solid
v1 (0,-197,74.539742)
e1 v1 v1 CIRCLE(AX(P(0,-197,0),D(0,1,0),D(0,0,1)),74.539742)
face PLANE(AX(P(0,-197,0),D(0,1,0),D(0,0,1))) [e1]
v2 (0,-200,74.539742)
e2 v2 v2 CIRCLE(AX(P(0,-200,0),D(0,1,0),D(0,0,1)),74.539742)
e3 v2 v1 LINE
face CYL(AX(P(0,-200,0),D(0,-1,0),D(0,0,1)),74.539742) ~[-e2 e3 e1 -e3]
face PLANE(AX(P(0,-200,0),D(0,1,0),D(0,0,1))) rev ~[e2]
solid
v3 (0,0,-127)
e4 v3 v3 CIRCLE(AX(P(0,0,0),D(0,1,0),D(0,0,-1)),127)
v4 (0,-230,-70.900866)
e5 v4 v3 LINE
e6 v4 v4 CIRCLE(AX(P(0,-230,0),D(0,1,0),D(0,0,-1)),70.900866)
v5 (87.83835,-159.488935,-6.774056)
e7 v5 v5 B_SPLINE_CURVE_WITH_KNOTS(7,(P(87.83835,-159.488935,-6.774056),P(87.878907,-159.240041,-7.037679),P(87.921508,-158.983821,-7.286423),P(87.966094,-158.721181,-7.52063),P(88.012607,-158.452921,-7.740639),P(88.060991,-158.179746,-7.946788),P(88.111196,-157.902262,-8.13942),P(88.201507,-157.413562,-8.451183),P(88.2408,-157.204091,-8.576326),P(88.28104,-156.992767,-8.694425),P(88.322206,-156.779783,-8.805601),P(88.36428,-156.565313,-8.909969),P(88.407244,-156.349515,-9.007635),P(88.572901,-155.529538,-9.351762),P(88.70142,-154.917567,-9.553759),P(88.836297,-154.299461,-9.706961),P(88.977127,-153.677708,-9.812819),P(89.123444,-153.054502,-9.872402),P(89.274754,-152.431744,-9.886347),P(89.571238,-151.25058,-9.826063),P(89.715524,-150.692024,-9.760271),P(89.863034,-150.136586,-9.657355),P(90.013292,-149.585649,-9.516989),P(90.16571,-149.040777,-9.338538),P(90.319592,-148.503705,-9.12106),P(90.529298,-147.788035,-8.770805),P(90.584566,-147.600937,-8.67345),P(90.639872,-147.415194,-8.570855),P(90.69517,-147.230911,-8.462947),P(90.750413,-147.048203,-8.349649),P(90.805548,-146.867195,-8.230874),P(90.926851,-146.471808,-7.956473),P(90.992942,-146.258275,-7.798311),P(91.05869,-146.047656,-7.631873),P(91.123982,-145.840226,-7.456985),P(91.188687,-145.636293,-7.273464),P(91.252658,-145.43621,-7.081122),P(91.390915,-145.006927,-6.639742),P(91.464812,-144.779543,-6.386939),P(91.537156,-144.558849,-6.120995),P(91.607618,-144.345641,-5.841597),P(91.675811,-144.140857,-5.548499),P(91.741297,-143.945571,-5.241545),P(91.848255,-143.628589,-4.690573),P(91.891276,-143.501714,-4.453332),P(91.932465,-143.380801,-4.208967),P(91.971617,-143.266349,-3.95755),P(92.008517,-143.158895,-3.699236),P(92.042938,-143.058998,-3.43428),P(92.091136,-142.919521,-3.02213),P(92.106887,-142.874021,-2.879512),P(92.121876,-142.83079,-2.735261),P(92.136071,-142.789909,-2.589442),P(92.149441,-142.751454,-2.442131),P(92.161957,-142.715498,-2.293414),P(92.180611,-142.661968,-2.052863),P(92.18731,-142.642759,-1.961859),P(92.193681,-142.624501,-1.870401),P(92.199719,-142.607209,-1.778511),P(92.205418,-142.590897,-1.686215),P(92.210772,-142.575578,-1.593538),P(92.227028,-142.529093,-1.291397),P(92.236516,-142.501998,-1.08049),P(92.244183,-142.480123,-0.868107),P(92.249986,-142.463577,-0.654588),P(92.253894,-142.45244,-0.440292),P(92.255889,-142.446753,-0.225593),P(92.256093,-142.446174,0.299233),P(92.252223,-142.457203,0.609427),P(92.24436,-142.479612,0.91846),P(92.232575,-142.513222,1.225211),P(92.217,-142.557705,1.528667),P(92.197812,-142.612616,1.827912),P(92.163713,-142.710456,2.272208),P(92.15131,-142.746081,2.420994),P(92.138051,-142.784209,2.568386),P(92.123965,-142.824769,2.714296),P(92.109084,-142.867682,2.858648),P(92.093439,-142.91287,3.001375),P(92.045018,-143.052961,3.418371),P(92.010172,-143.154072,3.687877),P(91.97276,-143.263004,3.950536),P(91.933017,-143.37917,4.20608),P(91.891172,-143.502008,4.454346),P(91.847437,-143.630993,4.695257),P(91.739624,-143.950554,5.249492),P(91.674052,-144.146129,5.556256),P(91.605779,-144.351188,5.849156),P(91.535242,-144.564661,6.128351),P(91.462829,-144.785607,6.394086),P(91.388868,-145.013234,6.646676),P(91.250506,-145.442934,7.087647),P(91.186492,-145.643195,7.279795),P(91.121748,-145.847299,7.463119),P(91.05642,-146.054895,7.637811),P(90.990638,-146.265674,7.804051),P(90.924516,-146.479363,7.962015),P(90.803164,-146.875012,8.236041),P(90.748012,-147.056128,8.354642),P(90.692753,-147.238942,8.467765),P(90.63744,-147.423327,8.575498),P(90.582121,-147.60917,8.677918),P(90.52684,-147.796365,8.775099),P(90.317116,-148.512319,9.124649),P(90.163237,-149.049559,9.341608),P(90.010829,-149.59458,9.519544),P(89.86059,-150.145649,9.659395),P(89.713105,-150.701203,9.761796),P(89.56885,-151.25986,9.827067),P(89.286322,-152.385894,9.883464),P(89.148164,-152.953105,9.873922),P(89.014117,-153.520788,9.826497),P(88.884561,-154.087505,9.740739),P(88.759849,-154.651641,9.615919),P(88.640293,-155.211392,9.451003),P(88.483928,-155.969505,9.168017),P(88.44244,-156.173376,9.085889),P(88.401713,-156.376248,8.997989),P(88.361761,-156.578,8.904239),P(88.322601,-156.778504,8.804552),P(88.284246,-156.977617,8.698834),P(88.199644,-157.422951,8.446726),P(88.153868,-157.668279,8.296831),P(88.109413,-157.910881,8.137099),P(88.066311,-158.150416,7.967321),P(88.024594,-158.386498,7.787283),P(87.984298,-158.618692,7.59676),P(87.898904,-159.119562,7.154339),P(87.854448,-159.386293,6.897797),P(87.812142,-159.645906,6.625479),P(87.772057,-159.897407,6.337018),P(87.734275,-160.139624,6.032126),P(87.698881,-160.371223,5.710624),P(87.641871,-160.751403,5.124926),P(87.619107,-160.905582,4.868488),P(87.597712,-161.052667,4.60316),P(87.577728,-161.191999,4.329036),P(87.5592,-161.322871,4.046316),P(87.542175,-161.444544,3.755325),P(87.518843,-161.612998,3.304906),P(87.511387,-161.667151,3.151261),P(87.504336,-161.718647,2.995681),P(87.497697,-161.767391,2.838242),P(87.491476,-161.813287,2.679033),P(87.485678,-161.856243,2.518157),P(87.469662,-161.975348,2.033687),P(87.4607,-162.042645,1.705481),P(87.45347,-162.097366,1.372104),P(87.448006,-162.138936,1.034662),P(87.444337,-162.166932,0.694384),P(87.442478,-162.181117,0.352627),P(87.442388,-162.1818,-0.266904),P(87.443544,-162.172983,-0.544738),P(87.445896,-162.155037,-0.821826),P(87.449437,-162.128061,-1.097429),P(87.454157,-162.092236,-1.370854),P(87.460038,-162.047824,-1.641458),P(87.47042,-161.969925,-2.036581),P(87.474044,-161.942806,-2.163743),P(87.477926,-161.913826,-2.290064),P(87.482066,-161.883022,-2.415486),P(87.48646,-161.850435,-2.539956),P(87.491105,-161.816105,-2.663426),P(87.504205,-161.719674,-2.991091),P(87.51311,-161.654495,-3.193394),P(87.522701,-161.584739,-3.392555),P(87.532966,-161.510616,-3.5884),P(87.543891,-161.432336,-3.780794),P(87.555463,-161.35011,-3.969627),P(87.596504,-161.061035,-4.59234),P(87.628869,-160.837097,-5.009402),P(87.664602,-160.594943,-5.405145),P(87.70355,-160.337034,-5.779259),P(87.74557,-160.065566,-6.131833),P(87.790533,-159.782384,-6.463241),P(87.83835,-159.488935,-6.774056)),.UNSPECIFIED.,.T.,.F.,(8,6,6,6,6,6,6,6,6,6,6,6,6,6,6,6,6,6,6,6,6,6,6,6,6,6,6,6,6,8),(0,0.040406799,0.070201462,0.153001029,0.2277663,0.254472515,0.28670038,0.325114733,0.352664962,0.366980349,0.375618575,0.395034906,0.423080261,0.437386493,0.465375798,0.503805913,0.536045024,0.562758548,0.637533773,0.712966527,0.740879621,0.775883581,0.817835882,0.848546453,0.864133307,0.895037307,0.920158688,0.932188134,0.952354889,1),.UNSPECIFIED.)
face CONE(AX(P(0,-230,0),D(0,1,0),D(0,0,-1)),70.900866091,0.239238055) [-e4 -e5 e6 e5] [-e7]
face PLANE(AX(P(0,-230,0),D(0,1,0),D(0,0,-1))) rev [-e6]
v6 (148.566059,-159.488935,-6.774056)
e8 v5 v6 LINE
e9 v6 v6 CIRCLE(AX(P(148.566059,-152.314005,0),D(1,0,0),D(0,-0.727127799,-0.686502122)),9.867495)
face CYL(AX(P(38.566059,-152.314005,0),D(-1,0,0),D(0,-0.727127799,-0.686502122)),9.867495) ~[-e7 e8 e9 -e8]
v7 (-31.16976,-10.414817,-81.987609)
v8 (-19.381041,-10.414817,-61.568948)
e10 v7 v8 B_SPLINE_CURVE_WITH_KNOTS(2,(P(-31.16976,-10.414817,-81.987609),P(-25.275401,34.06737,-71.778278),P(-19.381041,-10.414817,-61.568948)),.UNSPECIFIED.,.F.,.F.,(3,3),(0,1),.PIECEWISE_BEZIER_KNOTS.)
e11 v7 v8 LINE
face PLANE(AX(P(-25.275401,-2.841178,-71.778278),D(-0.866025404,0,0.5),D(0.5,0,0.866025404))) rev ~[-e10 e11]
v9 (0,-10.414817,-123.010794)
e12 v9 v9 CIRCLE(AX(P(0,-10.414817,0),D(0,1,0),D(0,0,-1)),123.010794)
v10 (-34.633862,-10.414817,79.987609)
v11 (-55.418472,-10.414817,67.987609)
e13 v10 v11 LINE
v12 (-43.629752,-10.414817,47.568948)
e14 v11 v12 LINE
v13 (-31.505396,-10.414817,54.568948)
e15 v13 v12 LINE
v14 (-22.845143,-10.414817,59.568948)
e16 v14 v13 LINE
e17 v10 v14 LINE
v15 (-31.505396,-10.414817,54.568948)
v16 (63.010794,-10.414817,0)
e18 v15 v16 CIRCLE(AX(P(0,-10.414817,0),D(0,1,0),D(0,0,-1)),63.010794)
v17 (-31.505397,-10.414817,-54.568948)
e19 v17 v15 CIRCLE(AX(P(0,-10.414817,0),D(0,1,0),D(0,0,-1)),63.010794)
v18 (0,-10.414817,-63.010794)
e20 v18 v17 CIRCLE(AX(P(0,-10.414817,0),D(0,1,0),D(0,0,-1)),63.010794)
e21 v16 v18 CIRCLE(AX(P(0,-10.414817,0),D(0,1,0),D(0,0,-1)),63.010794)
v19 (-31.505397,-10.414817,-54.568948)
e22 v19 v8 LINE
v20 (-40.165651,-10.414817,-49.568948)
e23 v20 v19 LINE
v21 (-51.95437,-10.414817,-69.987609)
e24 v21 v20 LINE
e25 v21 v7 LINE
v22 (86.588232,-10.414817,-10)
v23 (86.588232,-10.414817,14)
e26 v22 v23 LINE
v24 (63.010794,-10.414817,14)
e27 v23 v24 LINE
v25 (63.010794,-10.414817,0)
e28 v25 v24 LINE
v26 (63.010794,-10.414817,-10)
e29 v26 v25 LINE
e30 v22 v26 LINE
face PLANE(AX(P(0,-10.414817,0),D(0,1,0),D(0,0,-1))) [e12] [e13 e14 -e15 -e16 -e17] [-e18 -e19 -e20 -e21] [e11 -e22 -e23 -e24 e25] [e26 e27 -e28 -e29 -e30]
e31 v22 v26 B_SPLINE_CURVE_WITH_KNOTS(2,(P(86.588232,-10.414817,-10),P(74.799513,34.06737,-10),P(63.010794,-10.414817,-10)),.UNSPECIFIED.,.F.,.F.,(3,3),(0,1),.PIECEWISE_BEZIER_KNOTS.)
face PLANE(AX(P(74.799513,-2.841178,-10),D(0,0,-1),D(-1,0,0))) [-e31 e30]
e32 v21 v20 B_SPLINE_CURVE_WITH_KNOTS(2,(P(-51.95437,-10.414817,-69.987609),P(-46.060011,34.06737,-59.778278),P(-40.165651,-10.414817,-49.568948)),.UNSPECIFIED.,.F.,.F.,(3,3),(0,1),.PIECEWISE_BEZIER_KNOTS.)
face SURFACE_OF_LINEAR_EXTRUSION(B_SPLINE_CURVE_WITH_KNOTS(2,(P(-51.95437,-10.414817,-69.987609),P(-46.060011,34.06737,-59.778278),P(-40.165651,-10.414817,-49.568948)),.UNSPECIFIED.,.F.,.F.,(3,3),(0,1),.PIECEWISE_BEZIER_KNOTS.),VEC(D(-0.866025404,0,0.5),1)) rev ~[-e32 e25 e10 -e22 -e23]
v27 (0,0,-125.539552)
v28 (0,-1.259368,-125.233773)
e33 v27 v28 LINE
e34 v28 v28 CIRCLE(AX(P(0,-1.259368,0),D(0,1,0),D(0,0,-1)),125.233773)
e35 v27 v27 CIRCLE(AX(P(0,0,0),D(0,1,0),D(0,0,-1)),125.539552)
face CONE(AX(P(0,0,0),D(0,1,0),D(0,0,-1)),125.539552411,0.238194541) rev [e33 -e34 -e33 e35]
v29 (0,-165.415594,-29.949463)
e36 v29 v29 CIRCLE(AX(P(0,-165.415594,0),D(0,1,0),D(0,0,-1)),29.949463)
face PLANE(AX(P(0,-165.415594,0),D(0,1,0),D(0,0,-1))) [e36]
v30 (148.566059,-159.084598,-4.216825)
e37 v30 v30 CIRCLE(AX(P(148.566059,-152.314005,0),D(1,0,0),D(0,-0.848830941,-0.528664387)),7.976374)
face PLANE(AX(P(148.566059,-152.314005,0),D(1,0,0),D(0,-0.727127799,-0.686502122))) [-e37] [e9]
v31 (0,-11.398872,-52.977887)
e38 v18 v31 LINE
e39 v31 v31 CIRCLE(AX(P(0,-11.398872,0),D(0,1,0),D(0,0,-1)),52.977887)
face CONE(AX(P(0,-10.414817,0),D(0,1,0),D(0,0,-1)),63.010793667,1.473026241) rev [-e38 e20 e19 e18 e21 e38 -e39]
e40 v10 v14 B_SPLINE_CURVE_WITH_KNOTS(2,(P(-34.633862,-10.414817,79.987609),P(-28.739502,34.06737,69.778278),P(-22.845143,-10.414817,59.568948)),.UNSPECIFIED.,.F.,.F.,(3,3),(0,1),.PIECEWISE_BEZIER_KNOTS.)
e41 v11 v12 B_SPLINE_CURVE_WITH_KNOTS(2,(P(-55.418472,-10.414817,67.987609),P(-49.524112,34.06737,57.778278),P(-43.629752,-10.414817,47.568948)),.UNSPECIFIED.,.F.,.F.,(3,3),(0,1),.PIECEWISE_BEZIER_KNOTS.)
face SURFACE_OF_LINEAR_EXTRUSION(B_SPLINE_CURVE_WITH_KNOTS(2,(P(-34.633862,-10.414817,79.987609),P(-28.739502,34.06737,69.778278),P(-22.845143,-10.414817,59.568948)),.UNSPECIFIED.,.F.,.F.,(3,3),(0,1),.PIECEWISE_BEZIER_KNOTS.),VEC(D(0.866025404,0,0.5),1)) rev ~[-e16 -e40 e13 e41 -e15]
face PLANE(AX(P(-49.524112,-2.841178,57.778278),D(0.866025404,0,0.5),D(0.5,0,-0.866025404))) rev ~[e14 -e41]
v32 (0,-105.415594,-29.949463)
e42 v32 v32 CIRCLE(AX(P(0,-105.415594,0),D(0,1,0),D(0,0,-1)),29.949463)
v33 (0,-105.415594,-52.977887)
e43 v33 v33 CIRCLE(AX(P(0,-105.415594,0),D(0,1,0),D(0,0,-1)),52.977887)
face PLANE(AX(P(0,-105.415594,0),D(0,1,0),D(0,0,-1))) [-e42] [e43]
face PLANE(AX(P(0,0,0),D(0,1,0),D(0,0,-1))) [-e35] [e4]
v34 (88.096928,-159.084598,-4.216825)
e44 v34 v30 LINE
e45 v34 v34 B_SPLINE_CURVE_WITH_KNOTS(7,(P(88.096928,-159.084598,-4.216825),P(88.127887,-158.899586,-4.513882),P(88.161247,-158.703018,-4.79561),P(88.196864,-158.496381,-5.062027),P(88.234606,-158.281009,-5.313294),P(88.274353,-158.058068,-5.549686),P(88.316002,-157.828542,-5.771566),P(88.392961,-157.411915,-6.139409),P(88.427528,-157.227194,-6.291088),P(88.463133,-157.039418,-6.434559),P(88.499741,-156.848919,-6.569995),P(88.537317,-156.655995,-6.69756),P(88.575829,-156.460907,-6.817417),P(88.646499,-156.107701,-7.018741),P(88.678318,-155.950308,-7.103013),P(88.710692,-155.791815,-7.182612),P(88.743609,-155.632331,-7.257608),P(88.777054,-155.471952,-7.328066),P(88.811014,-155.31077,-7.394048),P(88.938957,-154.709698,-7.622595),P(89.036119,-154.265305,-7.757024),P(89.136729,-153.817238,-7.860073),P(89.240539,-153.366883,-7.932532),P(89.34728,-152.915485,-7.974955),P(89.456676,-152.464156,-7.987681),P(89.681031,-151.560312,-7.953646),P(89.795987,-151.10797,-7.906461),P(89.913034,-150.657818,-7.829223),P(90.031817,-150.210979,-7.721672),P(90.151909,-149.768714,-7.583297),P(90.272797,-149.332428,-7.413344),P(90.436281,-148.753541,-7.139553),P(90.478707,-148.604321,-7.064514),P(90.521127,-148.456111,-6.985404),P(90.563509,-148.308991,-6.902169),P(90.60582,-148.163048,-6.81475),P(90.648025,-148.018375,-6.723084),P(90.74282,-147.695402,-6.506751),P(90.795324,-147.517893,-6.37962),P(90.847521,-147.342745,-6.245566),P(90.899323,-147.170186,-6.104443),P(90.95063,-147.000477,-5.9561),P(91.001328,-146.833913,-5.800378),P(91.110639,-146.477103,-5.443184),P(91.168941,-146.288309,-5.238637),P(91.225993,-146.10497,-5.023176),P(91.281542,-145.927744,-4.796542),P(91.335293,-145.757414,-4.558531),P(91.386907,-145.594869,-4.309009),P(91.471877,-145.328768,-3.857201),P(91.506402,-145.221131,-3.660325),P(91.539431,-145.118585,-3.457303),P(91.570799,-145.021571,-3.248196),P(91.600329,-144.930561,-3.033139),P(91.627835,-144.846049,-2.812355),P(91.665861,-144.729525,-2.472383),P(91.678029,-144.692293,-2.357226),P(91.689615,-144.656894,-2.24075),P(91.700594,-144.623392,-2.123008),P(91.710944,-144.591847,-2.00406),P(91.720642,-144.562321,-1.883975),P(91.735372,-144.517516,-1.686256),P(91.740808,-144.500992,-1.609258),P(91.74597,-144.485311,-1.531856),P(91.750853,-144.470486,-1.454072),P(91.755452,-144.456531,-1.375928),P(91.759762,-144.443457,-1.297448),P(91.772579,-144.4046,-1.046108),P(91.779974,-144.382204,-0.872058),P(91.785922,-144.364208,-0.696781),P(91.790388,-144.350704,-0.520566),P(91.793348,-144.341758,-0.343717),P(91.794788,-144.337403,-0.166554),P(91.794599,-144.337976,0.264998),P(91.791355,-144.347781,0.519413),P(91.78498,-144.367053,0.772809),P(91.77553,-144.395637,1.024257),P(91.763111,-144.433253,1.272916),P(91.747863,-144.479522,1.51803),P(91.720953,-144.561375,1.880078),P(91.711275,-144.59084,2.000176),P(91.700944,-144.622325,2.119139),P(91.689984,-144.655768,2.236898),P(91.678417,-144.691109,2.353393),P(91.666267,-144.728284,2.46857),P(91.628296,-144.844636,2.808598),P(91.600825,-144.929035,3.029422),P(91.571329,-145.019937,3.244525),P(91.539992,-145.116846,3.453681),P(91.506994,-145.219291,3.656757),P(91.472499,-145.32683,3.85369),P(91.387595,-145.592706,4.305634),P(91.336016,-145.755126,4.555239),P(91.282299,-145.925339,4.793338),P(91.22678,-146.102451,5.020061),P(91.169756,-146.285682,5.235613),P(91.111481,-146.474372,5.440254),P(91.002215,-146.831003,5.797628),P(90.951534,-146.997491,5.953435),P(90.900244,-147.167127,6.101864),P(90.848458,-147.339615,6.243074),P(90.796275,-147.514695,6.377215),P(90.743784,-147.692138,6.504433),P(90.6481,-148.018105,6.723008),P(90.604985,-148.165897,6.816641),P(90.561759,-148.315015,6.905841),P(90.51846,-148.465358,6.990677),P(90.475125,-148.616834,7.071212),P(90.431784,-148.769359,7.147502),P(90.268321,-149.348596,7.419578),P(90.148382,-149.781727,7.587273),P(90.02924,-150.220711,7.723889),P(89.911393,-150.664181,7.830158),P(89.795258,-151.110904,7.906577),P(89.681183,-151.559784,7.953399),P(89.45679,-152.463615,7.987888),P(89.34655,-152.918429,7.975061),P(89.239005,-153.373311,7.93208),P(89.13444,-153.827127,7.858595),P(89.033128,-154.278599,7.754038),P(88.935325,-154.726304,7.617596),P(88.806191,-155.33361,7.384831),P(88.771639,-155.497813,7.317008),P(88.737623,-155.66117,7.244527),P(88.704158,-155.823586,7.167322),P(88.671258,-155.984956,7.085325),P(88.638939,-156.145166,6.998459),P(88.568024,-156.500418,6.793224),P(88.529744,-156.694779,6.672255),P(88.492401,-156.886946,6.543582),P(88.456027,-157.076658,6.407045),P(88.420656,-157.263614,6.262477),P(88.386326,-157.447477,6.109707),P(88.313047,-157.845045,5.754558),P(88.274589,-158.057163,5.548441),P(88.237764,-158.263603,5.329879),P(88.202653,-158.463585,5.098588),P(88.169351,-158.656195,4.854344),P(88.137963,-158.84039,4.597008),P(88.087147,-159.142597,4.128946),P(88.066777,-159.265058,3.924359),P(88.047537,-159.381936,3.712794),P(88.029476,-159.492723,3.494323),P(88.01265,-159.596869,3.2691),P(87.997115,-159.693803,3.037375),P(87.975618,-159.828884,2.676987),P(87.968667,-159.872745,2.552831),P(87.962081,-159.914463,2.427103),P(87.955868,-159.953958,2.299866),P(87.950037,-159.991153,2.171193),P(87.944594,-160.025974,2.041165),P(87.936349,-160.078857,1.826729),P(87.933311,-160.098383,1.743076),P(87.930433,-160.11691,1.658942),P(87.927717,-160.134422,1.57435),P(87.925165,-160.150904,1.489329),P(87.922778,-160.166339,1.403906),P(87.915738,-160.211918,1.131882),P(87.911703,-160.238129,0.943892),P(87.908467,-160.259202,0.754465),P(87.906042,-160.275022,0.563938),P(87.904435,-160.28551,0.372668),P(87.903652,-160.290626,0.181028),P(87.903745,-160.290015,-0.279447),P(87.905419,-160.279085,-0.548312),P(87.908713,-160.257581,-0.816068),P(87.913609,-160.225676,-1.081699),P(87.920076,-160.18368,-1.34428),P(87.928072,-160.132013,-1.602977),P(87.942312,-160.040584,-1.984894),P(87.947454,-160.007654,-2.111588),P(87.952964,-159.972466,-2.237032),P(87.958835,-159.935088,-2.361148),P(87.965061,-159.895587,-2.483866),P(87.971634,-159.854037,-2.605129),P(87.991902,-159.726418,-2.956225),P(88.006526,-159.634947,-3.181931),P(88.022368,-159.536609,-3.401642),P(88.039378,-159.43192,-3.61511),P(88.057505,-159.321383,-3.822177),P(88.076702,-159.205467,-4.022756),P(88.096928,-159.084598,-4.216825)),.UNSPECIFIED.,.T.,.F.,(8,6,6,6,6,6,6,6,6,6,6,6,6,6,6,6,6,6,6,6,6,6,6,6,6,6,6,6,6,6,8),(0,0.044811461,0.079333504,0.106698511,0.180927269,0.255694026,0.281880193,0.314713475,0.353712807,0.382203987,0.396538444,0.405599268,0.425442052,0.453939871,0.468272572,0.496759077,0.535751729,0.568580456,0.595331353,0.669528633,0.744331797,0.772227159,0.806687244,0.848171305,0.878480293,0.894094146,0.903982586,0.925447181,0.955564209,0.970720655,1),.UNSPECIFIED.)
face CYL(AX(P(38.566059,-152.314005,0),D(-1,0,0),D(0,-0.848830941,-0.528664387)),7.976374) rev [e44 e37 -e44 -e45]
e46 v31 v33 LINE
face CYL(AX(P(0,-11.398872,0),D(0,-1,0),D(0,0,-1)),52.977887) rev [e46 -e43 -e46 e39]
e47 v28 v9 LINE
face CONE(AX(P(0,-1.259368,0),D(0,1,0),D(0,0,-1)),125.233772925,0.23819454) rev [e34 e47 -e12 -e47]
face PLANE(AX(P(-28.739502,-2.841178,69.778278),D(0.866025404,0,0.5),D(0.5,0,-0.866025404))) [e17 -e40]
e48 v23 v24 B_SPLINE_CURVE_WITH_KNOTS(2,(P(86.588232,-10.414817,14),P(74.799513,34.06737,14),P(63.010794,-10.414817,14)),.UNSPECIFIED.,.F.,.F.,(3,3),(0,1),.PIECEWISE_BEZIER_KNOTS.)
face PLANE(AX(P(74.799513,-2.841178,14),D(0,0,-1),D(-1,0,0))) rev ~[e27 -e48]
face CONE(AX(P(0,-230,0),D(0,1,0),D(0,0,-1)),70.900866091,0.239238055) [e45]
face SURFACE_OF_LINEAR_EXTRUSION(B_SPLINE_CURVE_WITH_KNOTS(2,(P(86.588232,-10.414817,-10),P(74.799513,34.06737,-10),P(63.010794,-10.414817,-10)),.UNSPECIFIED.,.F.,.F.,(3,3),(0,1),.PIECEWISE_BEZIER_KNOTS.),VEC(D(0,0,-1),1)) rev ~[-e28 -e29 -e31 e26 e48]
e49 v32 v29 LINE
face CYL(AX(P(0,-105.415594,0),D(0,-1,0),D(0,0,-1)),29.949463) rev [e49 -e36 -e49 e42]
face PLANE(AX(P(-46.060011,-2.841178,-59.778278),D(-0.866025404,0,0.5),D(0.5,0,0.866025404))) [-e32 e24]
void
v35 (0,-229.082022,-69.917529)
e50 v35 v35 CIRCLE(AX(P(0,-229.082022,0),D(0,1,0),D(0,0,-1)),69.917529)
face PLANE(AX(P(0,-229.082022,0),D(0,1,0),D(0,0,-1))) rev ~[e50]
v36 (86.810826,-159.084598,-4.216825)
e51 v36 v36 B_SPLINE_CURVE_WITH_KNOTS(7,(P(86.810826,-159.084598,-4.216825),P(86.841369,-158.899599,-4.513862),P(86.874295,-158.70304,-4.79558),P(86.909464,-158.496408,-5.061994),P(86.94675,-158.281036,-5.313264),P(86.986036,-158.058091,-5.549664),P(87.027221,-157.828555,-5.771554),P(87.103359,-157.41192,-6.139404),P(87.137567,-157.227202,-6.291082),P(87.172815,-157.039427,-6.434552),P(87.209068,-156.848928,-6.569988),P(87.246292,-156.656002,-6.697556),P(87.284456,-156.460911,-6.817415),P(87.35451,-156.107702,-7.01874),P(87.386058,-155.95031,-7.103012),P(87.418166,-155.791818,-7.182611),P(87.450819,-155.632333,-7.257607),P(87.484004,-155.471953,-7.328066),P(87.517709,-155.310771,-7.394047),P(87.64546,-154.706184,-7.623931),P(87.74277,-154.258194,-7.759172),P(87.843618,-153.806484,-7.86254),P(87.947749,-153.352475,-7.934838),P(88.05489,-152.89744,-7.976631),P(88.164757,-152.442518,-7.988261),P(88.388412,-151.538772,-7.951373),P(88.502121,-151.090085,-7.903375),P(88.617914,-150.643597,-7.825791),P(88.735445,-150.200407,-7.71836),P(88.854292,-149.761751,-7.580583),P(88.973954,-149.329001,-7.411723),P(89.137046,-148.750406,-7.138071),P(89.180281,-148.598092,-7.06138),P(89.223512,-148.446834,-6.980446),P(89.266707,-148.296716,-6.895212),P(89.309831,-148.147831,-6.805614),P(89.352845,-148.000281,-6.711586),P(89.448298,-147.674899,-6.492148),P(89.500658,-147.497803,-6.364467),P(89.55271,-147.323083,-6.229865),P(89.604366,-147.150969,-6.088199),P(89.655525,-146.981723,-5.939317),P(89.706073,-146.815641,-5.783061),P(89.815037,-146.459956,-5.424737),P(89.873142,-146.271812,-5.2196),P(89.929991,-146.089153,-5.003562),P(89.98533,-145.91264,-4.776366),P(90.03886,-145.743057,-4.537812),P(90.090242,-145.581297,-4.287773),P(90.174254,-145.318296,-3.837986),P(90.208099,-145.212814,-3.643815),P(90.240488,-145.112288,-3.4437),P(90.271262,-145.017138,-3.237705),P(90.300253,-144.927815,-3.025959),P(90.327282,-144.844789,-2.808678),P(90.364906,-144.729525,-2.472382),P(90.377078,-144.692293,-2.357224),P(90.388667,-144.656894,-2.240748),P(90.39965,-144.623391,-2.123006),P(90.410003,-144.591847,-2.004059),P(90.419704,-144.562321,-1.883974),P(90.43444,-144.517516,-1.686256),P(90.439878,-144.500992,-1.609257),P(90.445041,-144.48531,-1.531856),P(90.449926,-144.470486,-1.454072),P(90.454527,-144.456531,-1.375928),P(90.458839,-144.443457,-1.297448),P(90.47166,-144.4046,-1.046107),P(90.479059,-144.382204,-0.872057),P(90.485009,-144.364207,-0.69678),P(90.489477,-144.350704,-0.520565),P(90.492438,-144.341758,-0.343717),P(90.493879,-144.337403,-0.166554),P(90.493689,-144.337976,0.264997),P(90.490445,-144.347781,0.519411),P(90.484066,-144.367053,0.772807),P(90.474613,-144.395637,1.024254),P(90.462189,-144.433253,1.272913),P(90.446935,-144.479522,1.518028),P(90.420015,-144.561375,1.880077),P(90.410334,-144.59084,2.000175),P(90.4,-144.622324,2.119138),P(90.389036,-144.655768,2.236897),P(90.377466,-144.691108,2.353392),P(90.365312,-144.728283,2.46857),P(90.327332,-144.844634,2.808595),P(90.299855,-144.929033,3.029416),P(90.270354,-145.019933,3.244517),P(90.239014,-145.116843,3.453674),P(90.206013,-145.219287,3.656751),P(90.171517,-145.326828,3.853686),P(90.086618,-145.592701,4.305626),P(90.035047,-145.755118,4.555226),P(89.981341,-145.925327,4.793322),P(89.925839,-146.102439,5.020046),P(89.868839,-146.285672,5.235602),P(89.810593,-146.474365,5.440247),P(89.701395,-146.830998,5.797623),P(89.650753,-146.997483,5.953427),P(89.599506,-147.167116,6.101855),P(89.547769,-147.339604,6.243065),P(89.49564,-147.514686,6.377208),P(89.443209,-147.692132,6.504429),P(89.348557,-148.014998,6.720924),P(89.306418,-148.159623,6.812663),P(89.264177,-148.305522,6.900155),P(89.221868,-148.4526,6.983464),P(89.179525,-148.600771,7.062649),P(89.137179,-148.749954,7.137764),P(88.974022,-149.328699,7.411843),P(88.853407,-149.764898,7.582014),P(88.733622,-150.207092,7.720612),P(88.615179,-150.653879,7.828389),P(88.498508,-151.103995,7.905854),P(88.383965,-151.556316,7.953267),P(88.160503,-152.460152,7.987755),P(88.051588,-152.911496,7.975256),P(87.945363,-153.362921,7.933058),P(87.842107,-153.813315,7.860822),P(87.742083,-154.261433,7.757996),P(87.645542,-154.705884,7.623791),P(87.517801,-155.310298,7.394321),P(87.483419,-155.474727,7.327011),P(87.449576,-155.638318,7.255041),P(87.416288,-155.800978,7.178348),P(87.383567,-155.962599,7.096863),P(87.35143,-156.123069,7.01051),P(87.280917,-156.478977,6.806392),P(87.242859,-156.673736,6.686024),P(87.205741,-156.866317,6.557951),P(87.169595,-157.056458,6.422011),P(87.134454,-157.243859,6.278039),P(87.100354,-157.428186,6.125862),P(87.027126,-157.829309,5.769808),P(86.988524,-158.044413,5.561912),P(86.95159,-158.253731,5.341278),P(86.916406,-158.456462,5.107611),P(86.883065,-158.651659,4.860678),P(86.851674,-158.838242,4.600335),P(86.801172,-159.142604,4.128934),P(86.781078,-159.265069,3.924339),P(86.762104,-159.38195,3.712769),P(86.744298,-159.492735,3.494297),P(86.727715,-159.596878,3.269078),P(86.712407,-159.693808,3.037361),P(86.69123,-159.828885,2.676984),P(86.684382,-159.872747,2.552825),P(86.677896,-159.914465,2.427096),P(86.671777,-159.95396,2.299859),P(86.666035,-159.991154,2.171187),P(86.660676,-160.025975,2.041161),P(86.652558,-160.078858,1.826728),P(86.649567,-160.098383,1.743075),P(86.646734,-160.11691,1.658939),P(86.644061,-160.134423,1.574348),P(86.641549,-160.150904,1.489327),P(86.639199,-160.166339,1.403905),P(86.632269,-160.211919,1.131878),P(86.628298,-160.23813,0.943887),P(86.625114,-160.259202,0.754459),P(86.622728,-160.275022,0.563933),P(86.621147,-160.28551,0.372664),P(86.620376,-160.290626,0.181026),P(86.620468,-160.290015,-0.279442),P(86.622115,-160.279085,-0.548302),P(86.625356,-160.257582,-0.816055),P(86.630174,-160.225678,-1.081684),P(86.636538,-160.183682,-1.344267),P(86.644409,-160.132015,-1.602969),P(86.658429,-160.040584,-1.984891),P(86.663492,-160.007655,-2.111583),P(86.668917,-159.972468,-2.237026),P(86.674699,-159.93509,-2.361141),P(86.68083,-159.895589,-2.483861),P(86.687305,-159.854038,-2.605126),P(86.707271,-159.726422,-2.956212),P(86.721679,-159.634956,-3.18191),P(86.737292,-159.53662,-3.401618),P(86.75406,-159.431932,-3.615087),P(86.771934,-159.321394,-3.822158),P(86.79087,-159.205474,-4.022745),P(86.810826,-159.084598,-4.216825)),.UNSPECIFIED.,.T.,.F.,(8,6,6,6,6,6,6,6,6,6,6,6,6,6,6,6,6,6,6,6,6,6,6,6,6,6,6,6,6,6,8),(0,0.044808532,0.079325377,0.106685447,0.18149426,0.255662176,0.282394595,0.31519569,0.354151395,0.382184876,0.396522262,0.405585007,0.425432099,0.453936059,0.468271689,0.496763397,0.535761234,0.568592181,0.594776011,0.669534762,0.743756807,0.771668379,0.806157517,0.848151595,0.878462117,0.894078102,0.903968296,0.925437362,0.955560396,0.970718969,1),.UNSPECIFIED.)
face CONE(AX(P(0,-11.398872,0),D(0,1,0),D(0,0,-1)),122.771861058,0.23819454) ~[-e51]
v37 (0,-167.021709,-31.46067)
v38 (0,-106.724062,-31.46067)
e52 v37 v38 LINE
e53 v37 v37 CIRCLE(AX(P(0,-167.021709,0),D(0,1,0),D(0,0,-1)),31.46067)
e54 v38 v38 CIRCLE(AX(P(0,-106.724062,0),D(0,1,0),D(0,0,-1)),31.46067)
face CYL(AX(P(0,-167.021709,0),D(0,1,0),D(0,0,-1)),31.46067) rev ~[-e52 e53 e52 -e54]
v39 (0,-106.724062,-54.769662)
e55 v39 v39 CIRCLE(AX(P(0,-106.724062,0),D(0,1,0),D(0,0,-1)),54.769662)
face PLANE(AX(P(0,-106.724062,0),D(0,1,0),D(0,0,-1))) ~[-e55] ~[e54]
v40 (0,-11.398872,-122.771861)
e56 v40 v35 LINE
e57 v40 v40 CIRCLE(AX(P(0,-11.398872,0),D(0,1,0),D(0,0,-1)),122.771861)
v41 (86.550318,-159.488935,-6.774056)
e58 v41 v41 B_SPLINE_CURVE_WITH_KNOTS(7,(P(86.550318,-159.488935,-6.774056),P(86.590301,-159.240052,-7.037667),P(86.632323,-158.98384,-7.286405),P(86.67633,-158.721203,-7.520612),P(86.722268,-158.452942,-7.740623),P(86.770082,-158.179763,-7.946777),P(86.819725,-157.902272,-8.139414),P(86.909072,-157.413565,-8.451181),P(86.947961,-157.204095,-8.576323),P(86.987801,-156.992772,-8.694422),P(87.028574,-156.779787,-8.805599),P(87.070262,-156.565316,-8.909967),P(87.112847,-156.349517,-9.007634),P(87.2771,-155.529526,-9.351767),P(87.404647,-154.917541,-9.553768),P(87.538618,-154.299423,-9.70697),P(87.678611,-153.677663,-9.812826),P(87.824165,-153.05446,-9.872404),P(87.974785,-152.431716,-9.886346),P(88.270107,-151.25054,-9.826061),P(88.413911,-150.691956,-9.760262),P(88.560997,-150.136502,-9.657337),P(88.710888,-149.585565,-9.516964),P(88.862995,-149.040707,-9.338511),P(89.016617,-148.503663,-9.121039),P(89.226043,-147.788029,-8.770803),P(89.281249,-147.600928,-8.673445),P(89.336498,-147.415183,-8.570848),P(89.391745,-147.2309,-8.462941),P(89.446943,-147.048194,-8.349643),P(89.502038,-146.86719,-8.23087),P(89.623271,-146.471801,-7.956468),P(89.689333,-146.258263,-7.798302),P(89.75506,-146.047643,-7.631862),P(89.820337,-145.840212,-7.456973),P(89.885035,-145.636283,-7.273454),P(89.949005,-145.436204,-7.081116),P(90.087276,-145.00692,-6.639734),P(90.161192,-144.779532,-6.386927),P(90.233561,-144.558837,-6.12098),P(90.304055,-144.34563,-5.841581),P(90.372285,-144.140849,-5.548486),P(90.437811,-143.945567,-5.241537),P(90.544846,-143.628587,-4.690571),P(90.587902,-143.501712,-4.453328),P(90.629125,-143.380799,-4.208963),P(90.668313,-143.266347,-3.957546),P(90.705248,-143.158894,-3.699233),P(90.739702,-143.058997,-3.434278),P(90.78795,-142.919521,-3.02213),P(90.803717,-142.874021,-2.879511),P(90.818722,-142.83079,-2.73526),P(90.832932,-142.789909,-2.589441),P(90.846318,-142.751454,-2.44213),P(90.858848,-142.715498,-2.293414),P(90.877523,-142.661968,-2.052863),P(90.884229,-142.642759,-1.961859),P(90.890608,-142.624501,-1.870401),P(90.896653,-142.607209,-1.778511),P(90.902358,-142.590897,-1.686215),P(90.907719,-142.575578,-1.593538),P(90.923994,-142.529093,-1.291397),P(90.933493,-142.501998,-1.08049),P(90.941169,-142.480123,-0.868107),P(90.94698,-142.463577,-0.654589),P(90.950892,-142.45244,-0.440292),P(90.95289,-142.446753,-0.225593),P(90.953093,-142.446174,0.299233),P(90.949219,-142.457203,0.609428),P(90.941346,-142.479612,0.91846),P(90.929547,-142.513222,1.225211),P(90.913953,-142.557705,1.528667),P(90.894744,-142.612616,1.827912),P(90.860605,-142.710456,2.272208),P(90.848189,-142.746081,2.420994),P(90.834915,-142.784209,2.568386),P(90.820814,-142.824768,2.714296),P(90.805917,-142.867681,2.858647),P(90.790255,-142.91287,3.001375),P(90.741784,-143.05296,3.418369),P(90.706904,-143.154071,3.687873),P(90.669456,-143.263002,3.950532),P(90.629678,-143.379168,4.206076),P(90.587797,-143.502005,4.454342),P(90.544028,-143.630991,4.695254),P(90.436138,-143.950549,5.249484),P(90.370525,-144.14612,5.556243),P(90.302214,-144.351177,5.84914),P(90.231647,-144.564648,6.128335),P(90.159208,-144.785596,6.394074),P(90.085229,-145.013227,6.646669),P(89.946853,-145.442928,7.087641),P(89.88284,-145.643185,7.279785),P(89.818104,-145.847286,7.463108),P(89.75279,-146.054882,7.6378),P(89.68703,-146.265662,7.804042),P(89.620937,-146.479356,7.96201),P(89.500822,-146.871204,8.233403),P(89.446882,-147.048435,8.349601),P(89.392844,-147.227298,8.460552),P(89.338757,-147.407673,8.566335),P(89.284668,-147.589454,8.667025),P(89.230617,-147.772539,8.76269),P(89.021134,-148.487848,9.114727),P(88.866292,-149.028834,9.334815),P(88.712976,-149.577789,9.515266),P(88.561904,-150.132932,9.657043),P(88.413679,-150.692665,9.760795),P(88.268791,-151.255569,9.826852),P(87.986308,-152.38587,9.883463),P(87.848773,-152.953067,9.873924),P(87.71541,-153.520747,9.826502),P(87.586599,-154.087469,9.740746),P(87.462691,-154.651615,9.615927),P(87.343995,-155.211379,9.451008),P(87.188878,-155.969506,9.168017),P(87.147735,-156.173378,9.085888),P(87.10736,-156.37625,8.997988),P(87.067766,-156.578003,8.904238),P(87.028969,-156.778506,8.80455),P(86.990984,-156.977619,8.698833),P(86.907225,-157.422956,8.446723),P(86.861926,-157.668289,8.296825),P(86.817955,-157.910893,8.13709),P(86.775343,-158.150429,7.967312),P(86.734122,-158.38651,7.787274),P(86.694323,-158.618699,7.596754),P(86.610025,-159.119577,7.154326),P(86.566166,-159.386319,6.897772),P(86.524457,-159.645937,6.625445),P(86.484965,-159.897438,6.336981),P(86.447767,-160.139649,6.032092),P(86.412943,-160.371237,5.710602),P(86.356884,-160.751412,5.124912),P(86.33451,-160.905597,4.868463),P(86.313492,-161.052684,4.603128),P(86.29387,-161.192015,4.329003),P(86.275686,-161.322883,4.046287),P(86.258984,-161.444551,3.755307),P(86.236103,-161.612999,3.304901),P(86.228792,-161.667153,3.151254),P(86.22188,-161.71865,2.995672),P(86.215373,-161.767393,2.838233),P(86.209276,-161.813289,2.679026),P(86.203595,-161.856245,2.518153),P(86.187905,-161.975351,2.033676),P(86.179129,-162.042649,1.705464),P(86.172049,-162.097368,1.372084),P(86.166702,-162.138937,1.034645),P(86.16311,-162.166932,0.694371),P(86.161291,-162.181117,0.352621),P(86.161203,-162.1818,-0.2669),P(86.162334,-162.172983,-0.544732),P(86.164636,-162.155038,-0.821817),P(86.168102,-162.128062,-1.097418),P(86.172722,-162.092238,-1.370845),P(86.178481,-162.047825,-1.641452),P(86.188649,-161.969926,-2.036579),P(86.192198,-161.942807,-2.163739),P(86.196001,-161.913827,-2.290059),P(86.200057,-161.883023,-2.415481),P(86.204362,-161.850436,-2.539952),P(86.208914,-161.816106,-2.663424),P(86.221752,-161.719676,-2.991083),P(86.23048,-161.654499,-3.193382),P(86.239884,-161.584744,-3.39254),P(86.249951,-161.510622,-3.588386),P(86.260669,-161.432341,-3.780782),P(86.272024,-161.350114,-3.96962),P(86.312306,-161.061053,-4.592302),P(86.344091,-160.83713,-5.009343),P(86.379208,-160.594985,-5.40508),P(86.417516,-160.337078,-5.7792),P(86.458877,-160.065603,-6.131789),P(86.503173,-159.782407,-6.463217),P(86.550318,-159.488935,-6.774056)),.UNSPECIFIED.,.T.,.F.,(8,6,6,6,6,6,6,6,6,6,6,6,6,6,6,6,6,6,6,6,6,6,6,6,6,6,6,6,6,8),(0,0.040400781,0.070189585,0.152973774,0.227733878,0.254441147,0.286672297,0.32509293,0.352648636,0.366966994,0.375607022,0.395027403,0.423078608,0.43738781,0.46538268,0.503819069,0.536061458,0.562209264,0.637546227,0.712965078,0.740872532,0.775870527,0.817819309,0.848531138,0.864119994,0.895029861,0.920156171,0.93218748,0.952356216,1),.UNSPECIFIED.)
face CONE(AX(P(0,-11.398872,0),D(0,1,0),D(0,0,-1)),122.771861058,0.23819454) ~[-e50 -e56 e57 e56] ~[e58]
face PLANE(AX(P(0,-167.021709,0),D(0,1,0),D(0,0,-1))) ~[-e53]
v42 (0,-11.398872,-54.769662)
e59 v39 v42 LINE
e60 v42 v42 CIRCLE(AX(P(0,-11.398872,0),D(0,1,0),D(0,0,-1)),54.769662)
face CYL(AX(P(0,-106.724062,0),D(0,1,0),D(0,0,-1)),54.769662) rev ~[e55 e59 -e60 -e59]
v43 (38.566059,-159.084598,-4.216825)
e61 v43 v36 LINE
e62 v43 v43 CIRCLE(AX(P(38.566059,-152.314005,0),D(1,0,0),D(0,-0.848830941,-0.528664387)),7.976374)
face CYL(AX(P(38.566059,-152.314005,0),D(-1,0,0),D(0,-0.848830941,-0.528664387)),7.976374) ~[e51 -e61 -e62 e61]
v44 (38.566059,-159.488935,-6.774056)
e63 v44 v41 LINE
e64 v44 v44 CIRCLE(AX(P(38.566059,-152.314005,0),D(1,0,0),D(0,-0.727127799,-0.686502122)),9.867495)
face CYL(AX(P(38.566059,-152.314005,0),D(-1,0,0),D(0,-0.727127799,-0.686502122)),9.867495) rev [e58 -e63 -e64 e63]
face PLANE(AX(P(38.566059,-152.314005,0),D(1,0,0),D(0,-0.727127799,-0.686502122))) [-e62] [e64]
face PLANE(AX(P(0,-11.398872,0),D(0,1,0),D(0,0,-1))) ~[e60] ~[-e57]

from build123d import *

# Parameters (mm, degrees)
SKETCH4_R                = 74.539741671
BOSS_EXTRUDE1_DEPTH      = 3
BOSS_EXTRUDE2_DEPTH      = 10
BOSS_EXTRUDE2_DEPTH_BACK = 100
SKETCH6_R                = 9.86749483
SKETCH6_R_2              = 7.976373773
BOSS_EXTRUDE3_START      = -10
BOSS_EXTRUDE3_DEPTH      = 24
CIRPATTERN1_COUNT        = 3


with BuildPart() as part:
    # Sketch3 → Revolve1 (revolve)
    with BuildSketch(Plane.XY, mode=Mode.PRIVATE) as revolve1_sk:
        Polygon((70.900866091, -230), (127, 0), (125.539552411, 0), (125.233772925, -1.259367766), (123.010793667, -10.414816558), (63.010793667, -10.414816558), (52.977887412, -11.398872193), (52.977887412, -105.415593626), (29.949462522, -105.415593626), (29.949462522, -165.415593626), (0, -165.415593626), (0, -167.021708731), (31.460670445, -167.021708731), (31.460670445, -106.724061506), (54.769662456, -106.724061506), (54.769662456, -11.398872193), (122.771861058, -11.398872193), (69.917529324, -229.08202231), (0, -229.08202231), (0, -230), align=None)
    revolve(revolve1_sk.sketch.rotate(Axis((0, -230, 0), (0, 1, 0)), 90), axis=Axis((0, -230, 0), (0, 1, 0)))

    # Sketch6 → Boss-Extrude2 (add, two sides: drawn at the far end of the back side and taken through both)
    with BuildSketch(Plane(origin=(138.5660593, 0, 0), x_dir=(0, 0, -1), z_dir=(1, 0, 0)).offset(-BOSS_EXTRUDE2_DEPTH_BACK)):
        with Locations(Location((0, -152.314004943, 0), (0, 0, 313.353855363))):
            Circle(SKETCH6_R)
        with Locations(Location((0, -152.314004943, 0), (0, 0, 301.915257185))):
            Circle(SKETCH6_R_2, mode=Mode.SUBTRACT)
    extrude(amount=BOSS_EXTRUDE2_DEPTH + BOSS_EXTRUDE2_DEPTH_BACK)

    # Sketch8 → Boss-Extrude3 (add)
    with BuildSketch(Plane.XY.offset(BOSS_EXTRUDE3_START)):
        with BuildLine():
            Line((86.588232218, -10.414816558), (63.010793667, -10.414816558))
            add(Edge.make_bspline(
                [(86.588232218, -10.414816558), (74.799512942, 34.067370185), (63.010793667, -10.414816558)],
                knots=[0, 0, 0, 1, 1, 1], degree=2))
        make_face()
    boss_extrude3 = extrude(amount=BOSS_EXTRUDE3_DEPTH)

    # CirPattern1: Boss-Extrude3 ×3 about axis
    cirpattern1_axis = Axis((0, -10.414816558, 0), (0, -1, 0))
    for i in range(1, CIRPATTERN1_COUNT):
        add(boss_extrude3.rotate(cirpattern1_axis, i * 360 / CIRPATTERN1_COUNT))


with BuildPart() as body_2:
    # Sketch4 → Boss-Extrude1 (new body)
    with BuildSketch(Plane(origin=(0, -200, 0), x_dir=(1, 0, 0), z_dir=(0, 1, 0))):
        with Locations(Location((0, 0, 0), (0, 0, 270))):
            Circle(SKETCH4_R)
    extrude(amount=BOSS_EXTRUDE1_DEPTH)


solid = Compound([part.part, body_2.part])
